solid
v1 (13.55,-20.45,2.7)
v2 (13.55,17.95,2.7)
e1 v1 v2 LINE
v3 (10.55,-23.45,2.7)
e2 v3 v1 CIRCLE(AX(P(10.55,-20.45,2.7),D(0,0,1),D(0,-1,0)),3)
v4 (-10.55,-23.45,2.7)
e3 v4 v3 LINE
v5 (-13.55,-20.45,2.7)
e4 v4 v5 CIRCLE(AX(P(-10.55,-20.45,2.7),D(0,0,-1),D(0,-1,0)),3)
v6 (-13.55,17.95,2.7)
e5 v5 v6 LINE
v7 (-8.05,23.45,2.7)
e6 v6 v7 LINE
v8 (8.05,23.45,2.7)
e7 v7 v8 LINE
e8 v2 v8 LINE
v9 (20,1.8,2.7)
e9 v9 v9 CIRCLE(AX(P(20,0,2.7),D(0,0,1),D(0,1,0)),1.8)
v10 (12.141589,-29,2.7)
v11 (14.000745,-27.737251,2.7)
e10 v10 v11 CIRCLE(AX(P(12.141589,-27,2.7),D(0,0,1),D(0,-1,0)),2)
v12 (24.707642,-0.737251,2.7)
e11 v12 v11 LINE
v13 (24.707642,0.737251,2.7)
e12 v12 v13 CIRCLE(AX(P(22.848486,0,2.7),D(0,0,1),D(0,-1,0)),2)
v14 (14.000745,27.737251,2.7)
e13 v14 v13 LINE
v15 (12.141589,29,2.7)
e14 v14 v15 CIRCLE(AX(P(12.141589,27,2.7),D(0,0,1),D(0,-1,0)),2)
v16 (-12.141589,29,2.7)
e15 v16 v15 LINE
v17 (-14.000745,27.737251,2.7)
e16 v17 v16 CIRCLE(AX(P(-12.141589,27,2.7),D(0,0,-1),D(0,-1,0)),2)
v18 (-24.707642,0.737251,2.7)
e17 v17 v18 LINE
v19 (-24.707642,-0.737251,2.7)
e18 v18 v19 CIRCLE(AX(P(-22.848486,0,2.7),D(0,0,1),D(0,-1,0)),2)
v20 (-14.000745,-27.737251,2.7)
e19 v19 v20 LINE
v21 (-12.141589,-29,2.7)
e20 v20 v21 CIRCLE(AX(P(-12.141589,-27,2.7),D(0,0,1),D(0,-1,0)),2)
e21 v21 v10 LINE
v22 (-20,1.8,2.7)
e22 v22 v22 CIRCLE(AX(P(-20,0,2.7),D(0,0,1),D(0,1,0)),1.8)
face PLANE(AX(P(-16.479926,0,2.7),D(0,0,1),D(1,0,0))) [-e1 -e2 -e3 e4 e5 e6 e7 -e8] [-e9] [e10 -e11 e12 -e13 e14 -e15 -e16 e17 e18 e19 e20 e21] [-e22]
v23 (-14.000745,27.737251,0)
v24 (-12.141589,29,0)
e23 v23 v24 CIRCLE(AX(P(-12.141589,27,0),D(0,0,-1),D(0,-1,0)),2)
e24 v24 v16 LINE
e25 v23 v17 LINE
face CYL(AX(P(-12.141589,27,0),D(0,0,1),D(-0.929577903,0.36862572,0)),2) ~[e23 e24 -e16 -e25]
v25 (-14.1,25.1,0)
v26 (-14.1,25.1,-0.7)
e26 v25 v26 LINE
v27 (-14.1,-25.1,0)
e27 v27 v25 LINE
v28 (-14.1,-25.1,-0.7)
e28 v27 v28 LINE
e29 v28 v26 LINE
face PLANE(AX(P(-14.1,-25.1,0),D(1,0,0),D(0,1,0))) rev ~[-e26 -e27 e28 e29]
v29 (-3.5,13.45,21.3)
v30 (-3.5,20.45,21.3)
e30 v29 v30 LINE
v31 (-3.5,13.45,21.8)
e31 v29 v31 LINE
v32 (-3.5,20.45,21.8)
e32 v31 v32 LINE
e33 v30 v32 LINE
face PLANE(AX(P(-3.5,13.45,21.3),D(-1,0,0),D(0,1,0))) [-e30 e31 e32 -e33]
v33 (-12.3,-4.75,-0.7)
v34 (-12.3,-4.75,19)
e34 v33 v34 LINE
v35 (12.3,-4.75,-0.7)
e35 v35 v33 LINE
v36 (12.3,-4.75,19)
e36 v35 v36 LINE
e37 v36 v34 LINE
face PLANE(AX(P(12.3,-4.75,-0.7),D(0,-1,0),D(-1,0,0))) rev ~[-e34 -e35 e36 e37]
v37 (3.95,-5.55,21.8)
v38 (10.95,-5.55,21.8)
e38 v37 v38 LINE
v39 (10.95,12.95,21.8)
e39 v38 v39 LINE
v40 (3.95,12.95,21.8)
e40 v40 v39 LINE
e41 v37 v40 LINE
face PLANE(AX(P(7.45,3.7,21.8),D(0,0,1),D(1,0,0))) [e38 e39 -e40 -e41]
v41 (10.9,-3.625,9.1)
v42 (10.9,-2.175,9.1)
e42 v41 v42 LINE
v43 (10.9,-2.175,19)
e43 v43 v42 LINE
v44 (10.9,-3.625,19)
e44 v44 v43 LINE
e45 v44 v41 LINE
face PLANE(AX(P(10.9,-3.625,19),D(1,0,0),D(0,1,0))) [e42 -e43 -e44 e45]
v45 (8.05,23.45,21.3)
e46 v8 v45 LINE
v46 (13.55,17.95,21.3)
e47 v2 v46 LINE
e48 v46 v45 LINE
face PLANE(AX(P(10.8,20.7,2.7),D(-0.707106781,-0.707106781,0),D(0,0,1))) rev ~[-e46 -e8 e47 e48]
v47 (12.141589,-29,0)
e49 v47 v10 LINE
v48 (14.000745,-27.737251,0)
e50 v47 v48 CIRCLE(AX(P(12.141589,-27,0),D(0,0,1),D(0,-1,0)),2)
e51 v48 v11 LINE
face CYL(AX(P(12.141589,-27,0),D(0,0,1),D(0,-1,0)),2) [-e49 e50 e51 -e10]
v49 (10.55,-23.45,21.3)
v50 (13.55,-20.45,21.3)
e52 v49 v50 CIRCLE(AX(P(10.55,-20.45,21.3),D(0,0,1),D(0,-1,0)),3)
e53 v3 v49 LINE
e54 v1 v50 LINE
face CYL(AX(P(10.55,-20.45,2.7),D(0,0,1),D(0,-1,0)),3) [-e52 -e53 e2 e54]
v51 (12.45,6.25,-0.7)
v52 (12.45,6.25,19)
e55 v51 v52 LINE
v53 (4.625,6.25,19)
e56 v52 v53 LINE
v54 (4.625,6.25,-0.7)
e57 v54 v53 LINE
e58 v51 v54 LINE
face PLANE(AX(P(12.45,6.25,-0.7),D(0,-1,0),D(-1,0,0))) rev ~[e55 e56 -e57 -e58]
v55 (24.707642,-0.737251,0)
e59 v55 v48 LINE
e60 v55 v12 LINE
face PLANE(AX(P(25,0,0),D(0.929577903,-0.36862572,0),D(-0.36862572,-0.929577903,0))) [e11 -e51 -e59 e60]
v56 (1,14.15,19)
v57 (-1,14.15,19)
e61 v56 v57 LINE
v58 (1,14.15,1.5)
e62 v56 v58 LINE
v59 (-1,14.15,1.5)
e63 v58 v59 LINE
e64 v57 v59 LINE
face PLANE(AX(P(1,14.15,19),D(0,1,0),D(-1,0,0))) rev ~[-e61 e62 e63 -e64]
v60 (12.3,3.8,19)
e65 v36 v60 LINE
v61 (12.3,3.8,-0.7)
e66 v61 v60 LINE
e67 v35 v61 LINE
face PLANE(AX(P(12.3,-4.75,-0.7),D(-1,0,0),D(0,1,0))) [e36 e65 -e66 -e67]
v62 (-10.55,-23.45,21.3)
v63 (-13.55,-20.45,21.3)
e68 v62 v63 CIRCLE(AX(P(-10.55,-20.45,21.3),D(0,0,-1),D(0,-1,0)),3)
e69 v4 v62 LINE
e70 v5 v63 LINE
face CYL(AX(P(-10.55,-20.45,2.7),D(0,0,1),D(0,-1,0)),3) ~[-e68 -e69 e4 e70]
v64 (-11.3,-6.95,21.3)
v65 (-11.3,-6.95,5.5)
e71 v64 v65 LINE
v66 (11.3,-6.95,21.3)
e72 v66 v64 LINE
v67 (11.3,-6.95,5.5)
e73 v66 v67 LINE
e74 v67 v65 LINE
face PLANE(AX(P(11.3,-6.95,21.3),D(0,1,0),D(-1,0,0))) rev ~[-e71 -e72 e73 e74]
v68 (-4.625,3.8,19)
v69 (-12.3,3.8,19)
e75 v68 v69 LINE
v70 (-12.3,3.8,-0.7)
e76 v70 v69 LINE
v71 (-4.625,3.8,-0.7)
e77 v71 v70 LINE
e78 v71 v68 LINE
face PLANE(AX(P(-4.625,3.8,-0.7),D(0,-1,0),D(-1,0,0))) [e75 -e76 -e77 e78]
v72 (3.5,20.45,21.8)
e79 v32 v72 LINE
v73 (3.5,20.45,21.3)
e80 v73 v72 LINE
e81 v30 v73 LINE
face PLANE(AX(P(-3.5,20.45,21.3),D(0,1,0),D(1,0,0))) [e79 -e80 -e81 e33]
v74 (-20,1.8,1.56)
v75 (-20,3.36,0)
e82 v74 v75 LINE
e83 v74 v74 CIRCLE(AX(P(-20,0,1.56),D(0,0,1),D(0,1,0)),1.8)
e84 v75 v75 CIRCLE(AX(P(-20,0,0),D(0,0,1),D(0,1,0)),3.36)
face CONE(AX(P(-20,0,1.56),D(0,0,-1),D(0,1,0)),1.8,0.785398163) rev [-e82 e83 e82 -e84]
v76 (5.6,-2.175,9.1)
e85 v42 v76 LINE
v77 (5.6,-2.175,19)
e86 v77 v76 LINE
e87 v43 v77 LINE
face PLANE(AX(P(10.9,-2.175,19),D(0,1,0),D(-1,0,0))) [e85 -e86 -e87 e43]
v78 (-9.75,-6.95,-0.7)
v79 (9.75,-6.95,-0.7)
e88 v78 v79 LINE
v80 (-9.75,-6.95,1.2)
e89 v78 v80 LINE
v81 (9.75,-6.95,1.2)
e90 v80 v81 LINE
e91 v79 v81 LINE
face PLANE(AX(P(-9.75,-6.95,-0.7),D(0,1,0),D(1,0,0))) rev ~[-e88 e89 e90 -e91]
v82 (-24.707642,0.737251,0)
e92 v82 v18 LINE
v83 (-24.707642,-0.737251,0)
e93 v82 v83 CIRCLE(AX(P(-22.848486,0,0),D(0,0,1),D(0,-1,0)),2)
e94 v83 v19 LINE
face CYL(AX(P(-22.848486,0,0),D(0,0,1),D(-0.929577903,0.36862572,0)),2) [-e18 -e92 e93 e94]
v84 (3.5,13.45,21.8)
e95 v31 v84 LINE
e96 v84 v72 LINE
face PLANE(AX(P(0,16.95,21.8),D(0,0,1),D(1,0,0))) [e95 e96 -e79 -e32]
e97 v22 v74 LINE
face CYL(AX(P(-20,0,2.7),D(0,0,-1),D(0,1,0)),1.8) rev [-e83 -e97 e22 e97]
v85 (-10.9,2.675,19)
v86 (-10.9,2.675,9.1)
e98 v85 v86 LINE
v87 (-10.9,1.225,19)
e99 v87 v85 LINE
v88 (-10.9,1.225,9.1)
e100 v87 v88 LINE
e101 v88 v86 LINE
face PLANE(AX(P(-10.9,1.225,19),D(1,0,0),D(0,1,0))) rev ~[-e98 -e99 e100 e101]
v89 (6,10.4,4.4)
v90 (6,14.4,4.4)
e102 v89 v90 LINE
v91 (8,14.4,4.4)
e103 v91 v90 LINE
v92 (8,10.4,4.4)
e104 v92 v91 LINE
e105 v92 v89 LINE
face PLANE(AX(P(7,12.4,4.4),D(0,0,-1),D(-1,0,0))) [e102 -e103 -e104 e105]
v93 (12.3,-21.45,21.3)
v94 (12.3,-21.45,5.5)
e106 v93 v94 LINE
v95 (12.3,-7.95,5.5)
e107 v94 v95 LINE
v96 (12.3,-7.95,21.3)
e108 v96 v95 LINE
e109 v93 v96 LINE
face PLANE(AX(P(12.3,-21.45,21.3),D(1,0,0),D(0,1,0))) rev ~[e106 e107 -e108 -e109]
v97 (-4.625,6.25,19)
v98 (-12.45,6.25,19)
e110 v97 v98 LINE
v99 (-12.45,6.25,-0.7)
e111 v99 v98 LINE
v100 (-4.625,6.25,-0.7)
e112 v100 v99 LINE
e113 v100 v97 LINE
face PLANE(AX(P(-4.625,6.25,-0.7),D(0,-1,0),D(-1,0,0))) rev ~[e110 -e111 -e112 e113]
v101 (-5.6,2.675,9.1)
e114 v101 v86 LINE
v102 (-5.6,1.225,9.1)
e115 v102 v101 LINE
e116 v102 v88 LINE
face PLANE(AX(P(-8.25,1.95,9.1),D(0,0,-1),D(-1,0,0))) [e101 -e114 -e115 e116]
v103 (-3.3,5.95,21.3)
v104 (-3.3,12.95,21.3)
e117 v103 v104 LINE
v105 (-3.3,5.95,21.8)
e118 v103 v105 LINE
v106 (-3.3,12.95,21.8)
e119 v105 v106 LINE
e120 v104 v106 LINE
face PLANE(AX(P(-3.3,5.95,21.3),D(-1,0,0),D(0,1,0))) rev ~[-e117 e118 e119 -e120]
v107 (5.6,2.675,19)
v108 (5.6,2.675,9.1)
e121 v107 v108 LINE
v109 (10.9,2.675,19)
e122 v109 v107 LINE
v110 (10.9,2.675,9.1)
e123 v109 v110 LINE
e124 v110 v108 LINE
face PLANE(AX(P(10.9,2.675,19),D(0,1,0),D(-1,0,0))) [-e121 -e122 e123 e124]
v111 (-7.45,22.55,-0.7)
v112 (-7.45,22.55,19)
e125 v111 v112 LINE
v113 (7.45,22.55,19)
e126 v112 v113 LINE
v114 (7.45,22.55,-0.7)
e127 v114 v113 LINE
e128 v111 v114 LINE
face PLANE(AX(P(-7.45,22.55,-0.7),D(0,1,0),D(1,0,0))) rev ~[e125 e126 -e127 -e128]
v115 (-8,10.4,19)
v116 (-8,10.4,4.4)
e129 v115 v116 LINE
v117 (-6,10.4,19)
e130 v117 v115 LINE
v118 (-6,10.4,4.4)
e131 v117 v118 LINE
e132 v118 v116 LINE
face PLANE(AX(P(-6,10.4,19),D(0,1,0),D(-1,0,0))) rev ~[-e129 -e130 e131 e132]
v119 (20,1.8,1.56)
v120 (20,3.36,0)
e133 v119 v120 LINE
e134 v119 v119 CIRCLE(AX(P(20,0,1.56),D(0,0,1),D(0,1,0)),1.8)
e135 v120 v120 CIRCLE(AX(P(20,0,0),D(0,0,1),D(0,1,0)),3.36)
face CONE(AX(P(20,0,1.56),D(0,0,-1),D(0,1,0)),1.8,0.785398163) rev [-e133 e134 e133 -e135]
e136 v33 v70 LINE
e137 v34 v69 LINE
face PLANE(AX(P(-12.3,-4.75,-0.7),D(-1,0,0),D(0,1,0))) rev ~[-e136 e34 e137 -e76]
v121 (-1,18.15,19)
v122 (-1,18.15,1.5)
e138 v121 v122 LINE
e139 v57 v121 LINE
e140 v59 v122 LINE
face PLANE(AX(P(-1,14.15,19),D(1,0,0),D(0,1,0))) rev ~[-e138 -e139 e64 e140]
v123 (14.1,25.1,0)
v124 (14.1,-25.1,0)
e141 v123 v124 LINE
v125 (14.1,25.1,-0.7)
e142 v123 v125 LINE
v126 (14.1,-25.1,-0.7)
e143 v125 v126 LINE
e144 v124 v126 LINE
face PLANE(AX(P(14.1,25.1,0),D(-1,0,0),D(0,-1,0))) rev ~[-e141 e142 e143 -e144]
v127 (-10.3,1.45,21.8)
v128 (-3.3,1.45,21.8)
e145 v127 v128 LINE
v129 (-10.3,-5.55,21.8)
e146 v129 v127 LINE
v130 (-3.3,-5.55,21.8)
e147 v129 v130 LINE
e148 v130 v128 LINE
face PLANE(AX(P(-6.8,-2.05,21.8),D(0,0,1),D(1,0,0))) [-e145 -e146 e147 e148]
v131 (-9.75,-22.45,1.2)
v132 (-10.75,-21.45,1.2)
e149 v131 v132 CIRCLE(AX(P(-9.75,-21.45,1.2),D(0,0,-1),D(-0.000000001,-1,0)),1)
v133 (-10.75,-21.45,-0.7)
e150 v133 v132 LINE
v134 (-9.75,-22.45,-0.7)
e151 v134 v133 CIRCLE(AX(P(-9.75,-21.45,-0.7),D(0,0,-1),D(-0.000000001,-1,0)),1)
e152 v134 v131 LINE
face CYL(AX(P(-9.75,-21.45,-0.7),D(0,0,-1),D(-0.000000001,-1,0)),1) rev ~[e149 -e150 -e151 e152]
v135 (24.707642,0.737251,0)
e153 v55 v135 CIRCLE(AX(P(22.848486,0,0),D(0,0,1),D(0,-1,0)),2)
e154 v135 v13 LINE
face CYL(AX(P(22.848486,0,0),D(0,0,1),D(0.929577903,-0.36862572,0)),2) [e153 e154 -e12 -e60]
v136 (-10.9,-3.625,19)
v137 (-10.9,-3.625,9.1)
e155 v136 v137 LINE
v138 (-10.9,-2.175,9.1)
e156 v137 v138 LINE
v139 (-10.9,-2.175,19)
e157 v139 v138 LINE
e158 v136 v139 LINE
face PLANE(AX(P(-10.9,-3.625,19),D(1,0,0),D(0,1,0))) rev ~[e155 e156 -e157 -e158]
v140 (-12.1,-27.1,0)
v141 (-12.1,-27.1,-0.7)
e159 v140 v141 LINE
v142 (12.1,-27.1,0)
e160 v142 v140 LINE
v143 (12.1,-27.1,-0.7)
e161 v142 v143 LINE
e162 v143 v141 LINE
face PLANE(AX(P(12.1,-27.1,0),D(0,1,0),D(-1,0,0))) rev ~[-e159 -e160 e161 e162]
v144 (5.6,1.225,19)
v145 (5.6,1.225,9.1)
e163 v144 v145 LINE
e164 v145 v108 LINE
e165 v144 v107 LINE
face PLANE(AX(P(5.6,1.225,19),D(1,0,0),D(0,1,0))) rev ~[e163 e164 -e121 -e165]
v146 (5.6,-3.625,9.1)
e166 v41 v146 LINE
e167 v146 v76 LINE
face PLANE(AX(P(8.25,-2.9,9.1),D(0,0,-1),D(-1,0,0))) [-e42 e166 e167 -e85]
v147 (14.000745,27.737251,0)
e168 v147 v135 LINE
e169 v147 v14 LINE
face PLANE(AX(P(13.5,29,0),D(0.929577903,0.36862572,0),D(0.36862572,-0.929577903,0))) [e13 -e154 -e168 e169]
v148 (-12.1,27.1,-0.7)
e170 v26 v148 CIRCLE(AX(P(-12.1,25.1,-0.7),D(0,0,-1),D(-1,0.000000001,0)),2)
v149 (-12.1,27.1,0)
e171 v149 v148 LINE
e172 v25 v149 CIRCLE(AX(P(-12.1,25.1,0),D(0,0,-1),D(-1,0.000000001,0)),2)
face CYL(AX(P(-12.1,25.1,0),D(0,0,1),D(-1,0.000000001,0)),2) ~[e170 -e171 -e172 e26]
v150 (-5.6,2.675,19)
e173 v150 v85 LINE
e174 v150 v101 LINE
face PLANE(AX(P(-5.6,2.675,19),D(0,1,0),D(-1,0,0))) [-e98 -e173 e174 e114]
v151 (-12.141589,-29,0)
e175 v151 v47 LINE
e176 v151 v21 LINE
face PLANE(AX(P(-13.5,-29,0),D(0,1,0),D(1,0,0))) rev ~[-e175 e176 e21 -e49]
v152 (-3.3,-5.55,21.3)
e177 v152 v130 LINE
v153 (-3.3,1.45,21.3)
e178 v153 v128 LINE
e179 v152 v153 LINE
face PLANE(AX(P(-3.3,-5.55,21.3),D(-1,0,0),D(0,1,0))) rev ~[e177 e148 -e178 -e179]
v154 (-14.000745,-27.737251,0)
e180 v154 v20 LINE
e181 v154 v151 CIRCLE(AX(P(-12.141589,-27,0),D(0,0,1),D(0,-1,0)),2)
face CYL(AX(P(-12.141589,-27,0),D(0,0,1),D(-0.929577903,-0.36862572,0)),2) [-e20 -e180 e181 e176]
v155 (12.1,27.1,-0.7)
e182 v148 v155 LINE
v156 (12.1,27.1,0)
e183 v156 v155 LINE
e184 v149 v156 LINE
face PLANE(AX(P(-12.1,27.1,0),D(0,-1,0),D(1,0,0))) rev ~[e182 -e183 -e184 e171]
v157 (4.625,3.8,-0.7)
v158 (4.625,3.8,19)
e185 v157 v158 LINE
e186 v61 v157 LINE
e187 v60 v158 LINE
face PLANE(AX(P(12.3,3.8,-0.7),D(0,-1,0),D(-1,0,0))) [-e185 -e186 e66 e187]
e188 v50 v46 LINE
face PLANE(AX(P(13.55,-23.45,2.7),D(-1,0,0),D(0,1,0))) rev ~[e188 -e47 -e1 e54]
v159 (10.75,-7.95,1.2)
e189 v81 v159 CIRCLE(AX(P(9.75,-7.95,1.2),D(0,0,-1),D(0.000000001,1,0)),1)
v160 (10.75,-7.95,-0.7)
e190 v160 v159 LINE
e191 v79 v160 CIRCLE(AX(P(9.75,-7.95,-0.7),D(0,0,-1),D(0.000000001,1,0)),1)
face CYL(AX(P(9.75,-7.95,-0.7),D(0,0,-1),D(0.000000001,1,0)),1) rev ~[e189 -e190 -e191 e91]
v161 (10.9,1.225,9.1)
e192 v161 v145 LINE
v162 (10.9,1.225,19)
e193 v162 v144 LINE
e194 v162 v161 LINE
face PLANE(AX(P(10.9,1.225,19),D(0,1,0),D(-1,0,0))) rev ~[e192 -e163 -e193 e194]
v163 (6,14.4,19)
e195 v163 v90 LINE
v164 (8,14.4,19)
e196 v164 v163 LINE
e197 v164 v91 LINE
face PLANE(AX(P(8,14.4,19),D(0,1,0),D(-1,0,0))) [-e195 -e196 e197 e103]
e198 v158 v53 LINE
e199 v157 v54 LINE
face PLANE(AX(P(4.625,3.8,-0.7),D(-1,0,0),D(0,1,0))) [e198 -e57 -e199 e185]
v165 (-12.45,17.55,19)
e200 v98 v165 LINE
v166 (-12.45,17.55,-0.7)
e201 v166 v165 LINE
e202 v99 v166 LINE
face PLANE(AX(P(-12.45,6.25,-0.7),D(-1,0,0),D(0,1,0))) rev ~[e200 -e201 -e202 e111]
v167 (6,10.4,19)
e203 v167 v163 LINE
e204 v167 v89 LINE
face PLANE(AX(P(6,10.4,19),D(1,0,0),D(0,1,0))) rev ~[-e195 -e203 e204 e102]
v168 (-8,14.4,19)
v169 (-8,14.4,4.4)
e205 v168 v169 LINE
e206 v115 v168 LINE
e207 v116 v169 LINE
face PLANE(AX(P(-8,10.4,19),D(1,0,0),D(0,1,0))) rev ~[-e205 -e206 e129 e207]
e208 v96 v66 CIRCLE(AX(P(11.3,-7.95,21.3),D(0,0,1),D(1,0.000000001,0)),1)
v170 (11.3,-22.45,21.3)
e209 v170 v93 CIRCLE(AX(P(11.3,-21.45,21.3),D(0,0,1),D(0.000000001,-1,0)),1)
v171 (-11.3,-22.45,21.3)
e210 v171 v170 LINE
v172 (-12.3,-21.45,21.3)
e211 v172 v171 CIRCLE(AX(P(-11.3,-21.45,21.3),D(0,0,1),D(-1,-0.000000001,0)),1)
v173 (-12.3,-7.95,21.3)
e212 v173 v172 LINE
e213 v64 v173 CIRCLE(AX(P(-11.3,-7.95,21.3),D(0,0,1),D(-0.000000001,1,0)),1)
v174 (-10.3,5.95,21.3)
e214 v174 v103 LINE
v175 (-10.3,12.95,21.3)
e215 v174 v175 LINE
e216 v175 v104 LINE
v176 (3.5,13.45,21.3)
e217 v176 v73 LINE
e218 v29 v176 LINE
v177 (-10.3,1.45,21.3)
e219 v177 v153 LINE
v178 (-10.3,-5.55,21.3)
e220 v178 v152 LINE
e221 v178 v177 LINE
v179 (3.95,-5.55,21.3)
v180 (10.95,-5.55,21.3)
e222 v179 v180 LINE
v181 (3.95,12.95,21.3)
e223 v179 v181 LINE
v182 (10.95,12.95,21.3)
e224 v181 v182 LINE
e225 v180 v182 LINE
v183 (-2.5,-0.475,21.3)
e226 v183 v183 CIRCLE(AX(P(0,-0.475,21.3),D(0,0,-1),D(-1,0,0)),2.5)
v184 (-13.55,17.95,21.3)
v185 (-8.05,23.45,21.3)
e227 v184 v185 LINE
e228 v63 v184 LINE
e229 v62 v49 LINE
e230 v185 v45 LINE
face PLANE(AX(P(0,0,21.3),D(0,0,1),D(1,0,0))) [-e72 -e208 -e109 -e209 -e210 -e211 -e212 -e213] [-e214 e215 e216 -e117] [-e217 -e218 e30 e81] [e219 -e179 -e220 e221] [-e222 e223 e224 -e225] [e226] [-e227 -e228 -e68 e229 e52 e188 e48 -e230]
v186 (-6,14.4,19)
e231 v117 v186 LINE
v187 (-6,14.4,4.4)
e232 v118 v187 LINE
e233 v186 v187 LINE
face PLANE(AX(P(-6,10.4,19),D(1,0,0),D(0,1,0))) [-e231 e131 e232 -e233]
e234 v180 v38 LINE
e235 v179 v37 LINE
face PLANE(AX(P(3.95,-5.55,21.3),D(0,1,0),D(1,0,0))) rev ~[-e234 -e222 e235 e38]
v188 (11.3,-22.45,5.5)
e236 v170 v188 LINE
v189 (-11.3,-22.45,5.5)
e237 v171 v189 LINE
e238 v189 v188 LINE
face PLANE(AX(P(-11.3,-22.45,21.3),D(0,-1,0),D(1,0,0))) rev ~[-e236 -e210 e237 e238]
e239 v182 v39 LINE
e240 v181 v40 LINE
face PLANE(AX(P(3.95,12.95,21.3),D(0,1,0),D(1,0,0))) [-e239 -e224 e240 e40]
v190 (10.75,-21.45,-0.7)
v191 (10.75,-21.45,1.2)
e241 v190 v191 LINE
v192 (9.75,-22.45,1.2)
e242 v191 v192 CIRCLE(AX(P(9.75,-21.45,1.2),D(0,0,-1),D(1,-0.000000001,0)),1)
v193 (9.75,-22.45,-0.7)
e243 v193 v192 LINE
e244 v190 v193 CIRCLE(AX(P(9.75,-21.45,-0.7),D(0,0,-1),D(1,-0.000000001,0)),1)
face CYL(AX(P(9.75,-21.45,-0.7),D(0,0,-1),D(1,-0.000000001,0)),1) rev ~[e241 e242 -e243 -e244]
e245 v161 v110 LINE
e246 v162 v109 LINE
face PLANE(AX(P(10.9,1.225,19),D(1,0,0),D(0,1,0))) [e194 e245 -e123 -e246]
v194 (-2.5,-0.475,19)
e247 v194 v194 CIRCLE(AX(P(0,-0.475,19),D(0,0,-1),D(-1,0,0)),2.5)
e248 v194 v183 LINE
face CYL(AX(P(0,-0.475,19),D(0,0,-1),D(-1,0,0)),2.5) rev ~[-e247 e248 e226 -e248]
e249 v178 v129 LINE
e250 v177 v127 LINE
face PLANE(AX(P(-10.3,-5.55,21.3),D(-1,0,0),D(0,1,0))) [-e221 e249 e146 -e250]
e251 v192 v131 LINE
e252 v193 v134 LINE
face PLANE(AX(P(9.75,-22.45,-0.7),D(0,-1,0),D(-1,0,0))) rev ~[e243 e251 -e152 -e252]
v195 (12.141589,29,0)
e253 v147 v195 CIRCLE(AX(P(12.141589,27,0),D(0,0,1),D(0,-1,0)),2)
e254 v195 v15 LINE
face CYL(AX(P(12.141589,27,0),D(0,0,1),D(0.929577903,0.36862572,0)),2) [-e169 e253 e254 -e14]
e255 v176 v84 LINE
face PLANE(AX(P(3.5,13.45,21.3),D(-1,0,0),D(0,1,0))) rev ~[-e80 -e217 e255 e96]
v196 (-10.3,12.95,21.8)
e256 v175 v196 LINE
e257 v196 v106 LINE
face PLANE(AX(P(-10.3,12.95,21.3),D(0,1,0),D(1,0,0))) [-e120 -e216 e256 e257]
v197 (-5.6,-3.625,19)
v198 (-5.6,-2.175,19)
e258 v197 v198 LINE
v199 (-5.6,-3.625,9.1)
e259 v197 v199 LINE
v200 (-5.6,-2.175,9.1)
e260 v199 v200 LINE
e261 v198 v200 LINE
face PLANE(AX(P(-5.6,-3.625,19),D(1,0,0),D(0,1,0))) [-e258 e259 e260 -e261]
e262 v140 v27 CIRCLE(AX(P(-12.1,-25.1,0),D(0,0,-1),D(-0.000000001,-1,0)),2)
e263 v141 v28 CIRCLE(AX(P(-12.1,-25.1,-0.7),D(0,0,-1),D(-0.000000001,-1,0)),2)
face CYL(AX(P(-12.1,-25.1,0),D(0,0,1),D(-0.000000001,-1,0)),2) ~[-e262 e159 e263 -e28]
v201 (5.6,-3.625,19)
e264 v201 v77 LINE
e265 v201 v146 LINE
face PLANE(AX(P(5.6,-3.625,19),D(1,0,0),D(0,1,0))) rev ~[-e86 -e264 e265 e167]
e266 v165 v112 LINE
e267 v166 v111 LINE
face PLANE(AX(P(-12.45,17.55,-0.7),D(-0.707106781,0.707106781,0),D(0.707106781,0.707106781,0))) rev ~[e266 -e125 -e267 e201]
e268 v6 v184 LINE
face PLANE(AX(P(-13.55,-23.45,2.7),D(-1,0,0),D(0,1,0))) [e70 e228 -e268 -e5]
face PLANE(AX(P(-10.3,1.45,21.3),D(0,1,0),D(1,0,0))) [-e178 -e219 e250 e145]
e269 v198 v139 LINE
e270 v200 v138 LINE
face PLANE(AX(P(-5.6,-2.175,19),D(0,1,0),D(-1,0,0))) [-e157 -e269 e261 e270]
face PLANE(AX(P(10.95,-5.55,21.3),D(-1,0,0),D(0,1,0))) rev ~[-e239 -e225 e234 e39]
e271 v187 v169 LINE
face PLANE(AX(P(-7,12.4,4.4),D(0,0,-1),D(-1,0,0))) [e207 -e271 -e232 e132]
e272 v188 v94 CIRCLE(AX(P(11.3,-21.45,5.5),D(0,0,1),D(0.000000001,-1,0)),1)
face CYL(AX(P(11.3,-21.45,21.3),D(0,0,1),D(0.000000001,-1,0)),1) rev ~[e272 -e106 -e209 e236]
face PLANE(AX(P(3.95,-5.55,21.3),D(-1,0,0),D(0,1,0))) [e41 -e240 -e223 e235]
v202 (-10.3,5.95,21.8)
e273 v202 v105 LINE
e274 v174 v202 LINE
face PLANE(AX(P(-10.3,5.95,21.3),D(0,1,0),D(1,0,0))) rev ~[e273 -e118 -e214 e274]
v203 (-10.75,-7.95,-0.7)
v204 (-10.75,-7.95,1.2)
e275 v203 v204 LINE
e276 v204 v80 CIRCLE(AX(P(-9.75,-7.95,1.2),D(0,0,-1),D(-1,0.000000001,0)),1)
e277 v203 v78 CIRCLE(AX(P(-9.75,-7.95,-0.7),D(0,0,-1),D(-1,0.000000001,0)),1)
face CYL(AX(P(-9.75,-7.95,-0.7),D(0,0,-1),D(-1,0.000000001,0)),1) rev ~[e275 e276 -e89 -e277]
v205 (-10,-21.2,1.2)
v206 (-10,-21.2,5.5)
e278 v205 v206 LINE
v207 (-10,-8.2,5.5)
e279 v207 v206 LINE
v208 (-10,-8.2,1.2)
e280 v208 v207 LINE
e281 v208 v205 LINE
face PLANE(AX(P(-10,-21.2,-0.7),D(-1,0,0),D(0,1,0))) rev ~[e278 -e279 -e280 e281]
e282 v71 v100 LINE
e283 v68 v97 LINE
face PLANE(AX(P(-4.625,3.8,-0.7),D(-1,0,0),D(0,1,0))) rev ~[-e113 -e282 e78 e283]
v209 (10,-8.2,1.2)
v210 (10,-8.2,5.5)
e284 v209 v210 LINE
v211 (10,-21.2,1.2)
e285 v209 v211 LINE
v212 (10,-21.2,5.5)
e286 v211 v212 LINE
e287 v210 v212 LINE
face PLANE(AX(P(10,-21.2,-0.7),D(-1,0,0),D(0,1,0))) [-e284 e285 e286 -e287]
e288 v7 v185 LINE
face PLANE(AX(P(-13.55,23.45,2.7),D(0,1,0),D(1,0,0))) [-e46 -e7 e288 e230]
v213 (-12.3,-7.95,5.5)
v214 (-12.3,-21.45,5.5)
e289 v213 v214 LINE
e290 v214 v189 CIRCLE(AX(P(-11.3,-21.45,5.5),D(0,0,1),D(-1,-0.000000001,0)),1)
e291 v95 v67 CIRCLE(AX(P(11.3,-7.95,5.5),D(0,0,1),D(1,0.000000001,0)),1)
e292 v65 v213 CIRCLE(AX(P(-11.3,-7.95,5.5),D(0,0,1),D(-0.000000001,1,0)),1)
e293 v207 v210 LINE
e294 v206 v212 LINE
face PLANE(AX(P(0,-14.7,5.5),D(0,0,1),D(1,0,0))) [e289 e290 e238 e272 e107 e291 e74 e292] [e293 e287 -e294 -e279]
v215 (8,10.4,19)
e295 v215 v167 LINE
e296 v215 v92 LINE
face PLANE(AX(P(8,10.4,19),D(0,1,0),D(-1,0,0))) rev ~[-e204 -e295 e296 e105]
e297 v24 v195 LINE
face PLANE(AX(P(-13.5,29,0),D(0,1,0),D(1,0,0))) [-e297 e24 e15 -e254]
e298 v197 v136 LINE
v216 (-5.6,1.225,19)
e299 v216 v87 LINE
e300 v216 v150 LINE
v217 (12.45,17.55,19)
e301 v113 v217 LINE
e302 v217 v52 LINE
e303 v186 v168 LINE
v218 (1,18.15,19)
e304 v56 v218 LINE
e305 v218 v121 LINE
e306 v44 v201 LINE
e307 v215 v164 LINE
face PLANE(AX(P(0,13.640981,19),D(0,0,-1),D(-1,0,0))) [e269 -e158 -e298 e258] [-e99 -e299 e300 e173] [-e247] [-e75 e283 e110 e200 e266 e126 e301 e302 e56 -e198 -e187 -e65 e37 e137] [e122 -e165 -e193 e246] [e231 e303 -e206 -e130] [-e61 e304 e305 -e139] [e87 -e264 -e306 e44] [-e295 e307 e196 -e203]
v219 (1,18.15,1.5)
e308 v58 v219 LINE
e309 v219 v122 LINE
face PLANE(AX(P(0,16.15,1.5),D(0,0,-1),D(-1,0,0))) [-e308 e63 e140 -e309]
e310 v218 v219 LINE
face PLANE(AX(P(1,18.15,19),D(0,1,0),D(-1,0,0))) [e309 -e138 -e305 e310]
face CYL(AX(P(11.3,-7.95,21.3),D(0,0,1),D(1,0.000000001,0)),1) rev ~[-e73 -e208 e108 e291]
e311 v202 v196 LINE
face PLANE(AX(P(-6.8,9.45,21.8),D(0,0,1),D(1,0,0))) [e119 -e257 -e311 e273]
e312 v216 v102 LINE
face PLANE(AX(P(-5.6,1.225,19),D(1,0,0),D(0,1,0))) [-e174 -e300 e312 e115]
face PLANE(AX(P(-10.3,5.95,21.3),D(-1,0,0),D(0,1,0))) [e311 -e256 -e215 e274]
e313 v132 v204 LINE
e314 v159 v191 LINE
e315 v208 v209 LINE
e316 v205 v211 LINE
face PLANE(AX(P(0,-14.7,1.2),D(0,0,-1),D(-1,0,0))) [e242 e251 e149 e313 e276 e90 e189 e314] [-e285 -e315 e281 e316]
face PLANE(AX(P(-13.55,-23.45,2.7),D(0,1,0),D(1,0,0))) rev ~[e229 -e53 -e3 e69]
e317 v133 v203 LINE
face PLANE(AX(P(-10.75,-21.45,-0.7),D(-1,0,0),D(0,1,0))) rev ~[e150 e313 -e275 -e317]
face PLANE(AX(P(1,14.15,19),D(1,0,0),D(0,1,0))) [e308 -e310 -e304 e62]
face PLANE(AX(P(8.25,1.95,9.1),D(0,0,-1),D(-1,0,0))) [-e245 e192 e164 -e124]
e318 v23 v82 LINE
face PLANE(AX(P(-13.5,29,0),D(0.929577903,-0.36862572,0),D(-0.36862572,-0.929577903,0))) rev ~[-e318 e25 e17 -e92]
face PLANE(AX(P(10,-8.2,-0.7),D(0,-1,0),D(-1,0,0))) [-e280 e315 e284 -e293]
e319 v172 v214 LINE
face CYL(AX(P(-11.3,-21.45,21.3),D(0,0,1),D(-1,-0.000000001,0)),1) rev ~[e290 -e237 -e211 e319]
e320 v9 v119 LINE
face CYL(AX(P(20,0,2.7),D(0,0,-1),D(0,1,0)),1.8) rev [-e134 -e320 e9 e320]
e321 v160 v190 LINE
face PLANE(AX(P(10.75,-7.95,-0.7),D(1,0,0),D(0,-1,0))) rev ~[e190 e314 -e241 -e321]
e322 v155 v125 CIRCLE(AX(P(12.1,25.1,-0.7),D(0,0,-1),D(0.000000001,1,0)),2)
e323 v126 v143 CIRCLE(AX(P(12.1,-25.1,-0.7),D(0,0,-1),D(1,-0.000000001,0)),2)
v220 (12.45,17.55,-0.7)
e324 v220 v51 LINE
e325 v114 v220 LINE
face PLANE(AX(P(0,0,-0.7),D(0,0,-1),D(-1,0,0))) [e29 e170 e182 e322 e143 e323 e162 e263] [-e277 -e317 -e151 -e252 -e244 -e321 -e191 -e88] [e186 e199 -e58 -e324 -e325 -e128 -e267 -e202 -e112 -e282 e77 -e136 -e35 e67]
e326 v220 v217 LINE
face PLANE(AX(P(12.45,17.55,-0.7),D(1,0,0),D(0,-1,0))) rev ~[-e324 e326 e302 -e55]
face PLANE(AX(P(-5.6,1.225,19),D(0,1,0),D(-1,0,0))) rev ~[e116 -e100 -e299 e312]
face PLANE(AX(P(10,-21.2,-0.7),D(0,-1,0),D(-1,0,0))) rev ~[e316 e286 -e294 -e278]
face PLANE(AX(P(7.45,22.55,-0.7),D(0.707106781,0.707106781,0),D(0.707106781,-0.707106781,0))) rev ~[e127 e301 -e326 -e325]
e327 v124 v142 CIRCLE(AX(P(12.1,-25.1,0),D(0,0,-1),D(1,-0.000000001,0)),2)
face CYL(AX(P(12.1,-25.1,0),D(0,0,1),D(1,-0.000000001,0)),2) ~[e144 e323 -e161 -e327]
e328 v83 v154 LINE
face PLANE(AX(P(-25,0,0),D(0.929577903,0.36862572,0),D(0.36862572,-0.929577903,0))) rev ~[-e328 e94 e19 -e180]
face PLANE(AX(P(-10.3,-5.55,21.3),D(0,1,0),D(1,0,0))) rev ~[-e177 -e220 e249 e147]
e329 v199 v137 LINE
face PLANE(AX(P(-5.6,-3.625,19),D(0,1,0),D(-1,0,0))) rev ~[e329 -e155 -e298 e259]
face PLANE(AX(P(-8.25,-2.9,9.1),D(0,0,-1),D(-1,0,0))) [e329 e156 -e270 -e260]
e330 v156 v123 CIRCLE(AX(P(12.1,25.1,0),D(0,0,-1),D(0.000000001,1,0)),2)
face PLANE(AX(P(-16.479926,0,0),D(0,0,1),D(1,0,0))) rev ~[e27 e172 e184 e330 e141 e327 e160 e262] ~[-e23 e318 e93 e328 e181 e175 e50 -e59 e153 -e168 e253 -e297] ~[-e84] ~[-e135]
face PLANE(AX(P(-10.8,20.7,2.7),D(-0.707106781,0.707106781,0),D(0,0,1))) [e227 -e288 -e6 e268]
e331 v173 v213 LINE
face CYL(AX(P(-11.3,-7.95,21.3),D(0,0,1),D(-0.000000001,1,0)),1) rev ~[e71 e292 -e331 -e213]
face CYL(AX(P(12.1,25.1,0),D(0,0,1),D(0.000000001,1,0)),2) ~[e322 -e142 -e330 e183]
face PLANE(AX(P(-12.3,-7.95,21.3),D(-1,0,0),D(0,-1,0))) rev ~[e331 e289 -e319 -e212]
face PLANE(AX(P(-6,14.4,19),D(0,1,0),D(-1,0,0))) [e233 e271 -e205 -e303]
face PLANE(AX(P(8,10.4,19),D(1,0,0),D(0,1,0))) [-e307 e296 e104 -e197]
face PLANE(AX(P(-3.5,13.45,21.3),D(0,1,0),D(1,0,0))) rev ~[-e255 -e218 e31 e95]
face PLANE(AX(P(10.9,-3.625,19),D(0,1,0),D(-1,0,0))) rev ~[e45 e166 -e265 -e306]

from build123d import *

# Parameters (mm, degrees)
SKETCH1_W                    = 27
SKETCH1_H                    = 58
BOSS_EXTRUDE1_DEPTH          = 2.7
FILLET1_R                    = 2
BOSS_EXTRUDE2_DEPTH          = 0.7
SKETCH5_W                    = 27.1
SKETCH5_H                    = 46.9
BOSS_EXTRUDE3_DEPTH          = 18.6
FILLET2_R                    = 3
CHAMFER1_SIZE                = 5.5
CUT_EXTRUDE1_DEPTH           = 15.8
SKETCH7_W                    = 9.25
SKETCH7_H                    = 2.45
SKETCH7_W_2                  = 24.6
SKETCH7_H_2                  = 8.55
CUT_EXTRUDE2_DEPTH           = 19.7
SKETCH8_R                    = 2.5
CUT_EXTRUDE3_DEPTH           = 43.971353827
SKETCH9_W                    = 20
SKETCH9_H                    = 13
CUT_EXTRUDE4_DEPTH           = 45.073203307
CUT_EXTRUDE5_DEPTH           = 1.9
SKETCH11_W                   = 7
SKETCH11_H                   = 7
SKETCH11_H_2                 = 18.5
BOSS_EXTRUDE4_DEPTH          = 0.5
SKETCH12_W                   = 5.3
SKETCH12_H                   = 1.45
BOSS_EXTRUDE5_DEPTH          = 9.9
SKETCH12_3_W                 = 2
SKETCH12_3_H                 = 4
BOSS_EXTRUDE6_DEPTH          = 14.6
SKETCH12_4_W                 = 2
SKETCH12_4_H                 = 4
BOSS_EXTRUDE7_DEPTH          = 17.5
CSK_FOR_M3_SFHCS1_AT_2_COUNT = 2
CSK_FOR_M3_SFHCS1_AT_2_PITCH = 40


with BuildPart() as part:
    # Sketch1 → Boss-Extrude1 (new body)
    with BuildSketch(Plane.XY):
        Polygon((-13.5, 29), (-25, 0), (-13.5, -29), align=None)
        Rectangle(SKETCH1_W, SKETCH1_H)
        Polygon((13.5, 29), (25, 0), (13.5, -29), align=None)
    extrude(amount=BOSS_EXTRUDE1_DEPTH)

    # Fillet1
    fillet1_edges = [part.edges().sort_by_distance(p)[0] for p in [
        (-13.5, 29, 1.35),
        (13.5, 29, 1.35),
        (25, 0, 1.35),
        (13.5, -29, 1.35),
        (-13.5, -29, 1.35),
        (-25, 0, 1.35),
    ]]
    fillet(fillet1_edges, radius=FILLET1_R)

    # Sketch2 → Boss-Extrude2 (add)
    with BuildSketch(Plane(origin=(0, 0, 0), x_dir=(-1, 0, 0), z_dir=(0, 0, -1))):
        with BuildLine():
            Line((-12.1, -27.1), (12.1, -27.1))
            ThreePointArc((12.1, -27.1), (13.514213562, -26.514213562), (14.1, -25.1))
            Line((14.1, -25.1), (14.1, 25.1))
            ThreePointArc((14.1, 25.1), (13.514213562, 26.514213562), (12.1, 27.1))
            Line((12.1, 27.1), (-12.1, 27.1))
            ThreePointArc((-12.1, 27.1), (-13.514213562, 26.514213562), (-14.1, 25.1))
            Line((-14.1, 25.1), (-14.1, -25.1))
            ThreePointArc((-14.1, -25.1), (-13.514213562, -26.514213562), (-12.1, -27.1))
        make_face()
    extrude(amount=BOSS_EXTRUDE2_DEPTH)

    # Sketch5 → Boss-Extrude3 (add)
    with BuildSketch(Plane.XY.offset(2.7)):
        Rectangle(SKETCH5_W, SKETCH5_H)
    extrude(amount=BOSS_EXTRUDE3_DEPTH)

    # Fillet2
    fillet2_edges = [part.edges().sort_by_distance(p)[0] for p in [
        (13.55, -23.45, 12),
        (-13.55, -23.45, 12),
    ]]
    fillet(fillet2_edges, radius=FILLET2_R)

    # Chamfer1
    chamfer1_edges = [part.edges().sort_by_distance(p)[0] for p in [
        (13.55, 23.45, 12),
        (-13.55, 23.45, 12),
    ]]
    chamfer(chamfer1_edges, length=CHAMFER1_SIZE)

    # Sketch6 → Cut-Extrude1 (cut)
    with BuildSketch(Plane.XY.offset(21.3)):
        with BuildLine():
            Line((-11.3, -22.45), (11.3, -22.45))
            ThreePointArc((11.3, -22.45), (12.007106781, -22.157106781), (12.3, -21.45))
            Line((12.3, -21.45), (12.3, -7.95))
            ThreePointArc((12.3, -7.95), (12.007106781, -7.242893219), (11.3, -6.95))
            Line((11.3, -6.95), (-11.3, -6.95))
            ThreePointArc((-11.3, -6.95), (-12.007106781, -7.242893219), (-12.3, -7.95))
            Line((-12.3, -7.95), (-12.3, -21.45))
            ThreePointArc((-12.3, -21.45), (-12.007106781, -22.157106781), (-11.3, -22.45))
        make_face()
    extrude(amount=-CUT_EXTRUDE1_DEPTH, mode=Mode.SUBTRACT)

    # Sketch7 → Cut-Extrude2 (cut)
    with BuildSketch(Plane(origin=(0, 0, -0.7), x_dir=(-1, 0, 0), z_dir=(0, 0, -1))):
        Polygon((-12.45, 6.25), (12.45, 6.25), (12.45, 17.55), (7.45, 22.55), (-7.45, 22.55), (-12.45, 17.55), align=None)
        with Locations((0, 5.025)):
            Rectangle(SKETCH7_W, SKETCH7_H)
        with Locations((0, -0.475)):
            Rectangle(SKETCH7_W_2, SKETCH7_H_2)
    extrude(amount=-CUT_EXTRUDE2_DEPTH, mode=Mode.SUBTRACT)

    # Sketch8 → Cut-Extrude3 (cut, through all)
    with BuildSketch(Plane(origin=(0, 0, 19), x_dir=(-1, 0, 0), z_dir=(0, 0, -1))):
        with Locations((0, -0.475)):
            Circle(SKETCH8_R)
    extrude(amount=-CUT_EXTRUDE3_DEPTH, mode=Mode.SUBTRACT)

    # Sketch9 → Cut-Extrude4 (cut, through all)
    with BuildSketch(Plane(origin=(0, 0, -0.7), x_dir=(-1, 0, 0), z_dir=(0, 0, -1))):
        with Locations((0, -14.7)):
            Rectangle(SKETCH9_W, SKETCH9_H)
    extrude(amount=-CUT_EXTRUDE4_DEPTH, mode=Mode.SUBTRACT)

    # Sketch10 → Cut-Extrude5 (cut)
    with BuildSketch(Plane(origin=(0, 0, -0.7), x_dir=(-1, 0, 0), z_dir=(0, 0, -1))):
        with BuildLine():
            Line((-9.75, -22.45), (9.75, -22.45))
            ThreePointArc((9.75, -22.45), (10.457106781, -22.157106781), (10.75, -21.45))
            Line((10.75, -21.45), (10.75, -7.95))
            ThreePointArc((10.75, -7.95), (10.457106781, -7.242893219), (9.75, -6.95))
            Line((9.75, -6.95), (-9.75, -6.95))
            ThreePointArc((-9.75, -6.95), (-10.457106781, -7.242893219), (-10.75, -7.95))
            Line((-10.75, -7.95), (-10.75, -21.45))
            ThreePointArc((-10.75, -21.45), (-10.457106781, -22.157106781), (-9.75, -22.45))
        make_face()
    extrude(amount=-CUT_EXTRUDE5_DEPTH, mode=Mode.SUBTRACT)

    # Sketch11 → Boss-Extrude4 (add)
    with BuildSketch(Plane.XY.offset(21.3)):
        with Locations((0, 16.95)):
            Rectangle(SKETCH11_W, SKETCH11_H)
        with Locations((7.45, 3.7)):
            Rectangle(SKETCH11_W, SKETCH11_H_2)
        with Locations((-6.8, 9.45)):
            Rectangle(SKETCH11_W, SKETCH11_H)
        with Locations((-6.8, -2.05)):
            Rectangle(SKETCH11_W, SKETCH11_H)
    extrude(amount=BOSS_EXTRUDE4_DEPTH)

    # Sketch12 → Boss-Extrude5 (add)
    with BuildSketch(Plane(origin=(0, 0, 19), x_dir=(-1, 0, 0), z_dir=(0, 0, -1))):
        with Locations((-8.25, 1.95)):
            Rectangle(SKETCH12_W, SKETCH12_H)
        with Locations((-8.25, -2.9)):
            Rectangle(SKETCH12_W, SKETCH12_H)
        with Locations((8.25, 1.95)):
            Rectangle(SKETCH12_W, SKETCH12_H)
        with Locations((8.25, -2.9)):
            Rectangle(SKETCH12_W, SKETCH12_H)
    extrude(amount=BOSS_EXTRUDE5_DEPTH)

    # Sketch12<3> → Boss-Extrude6 (add)
    with BuildSketch(Plane(origin=(0, 0, 19), x_dir=(-1, 0, 0), z_dir=(0, 0, -1))):
        with Locations((-7, 12.4)):
            Rectangle(SKETCH12_3_W, SKETCH12_3_H)
        with Locations((7, 12.4)):
            Rectangle(SKETCH12_3_W, SKETCH12_3_H)
    extrude(amount=BOSS_EXTRUDE6_DEPTH)

    # Sketch12<4> → Boss-Extrude7 (add)
    with BuildSketch(Plane(origin=(0, 0, 19), x_dir=(-1, 0, 0), z_dir=(0, 0, -1))):
        with Locations((0, 16.15)):
            Rectangle(SKETCH12_4_W, SKETCH12_4_H)
    extrude(amount=BOSS_EXTRUDE7_DEPTH)

    # Sketch16 → CSK for M3 SFHCS1 (revolve, cut)
    with BuildSketch(Plane.YZ.offset(20)):
        Polygon((0, 0), (0, 2.7), (1.8, 2.7), (1.8, 1.56), (3.36, 0), align=None)
    csk_for_m3_sfhcs1 = revolve(axis=Axis((20, 0, -6.35), (0, 0, 1)), mode=Mode.SUBTRACT)

    # CSK for M3 SFHCS1 at 2: CSK for M3 SFHCS1 ×2
    with Locations(*[(-i * CSK_FOR_M3_SFHCS1_AT_2_PITCH, 0, 0) for i in range(1, CSK_FOR_M3_SFHCS1_AT_2_COUNT)]):
        add(csk_for_m3_sfhcs1, mode=Mode.SUBTRACT)


solid = part.part
